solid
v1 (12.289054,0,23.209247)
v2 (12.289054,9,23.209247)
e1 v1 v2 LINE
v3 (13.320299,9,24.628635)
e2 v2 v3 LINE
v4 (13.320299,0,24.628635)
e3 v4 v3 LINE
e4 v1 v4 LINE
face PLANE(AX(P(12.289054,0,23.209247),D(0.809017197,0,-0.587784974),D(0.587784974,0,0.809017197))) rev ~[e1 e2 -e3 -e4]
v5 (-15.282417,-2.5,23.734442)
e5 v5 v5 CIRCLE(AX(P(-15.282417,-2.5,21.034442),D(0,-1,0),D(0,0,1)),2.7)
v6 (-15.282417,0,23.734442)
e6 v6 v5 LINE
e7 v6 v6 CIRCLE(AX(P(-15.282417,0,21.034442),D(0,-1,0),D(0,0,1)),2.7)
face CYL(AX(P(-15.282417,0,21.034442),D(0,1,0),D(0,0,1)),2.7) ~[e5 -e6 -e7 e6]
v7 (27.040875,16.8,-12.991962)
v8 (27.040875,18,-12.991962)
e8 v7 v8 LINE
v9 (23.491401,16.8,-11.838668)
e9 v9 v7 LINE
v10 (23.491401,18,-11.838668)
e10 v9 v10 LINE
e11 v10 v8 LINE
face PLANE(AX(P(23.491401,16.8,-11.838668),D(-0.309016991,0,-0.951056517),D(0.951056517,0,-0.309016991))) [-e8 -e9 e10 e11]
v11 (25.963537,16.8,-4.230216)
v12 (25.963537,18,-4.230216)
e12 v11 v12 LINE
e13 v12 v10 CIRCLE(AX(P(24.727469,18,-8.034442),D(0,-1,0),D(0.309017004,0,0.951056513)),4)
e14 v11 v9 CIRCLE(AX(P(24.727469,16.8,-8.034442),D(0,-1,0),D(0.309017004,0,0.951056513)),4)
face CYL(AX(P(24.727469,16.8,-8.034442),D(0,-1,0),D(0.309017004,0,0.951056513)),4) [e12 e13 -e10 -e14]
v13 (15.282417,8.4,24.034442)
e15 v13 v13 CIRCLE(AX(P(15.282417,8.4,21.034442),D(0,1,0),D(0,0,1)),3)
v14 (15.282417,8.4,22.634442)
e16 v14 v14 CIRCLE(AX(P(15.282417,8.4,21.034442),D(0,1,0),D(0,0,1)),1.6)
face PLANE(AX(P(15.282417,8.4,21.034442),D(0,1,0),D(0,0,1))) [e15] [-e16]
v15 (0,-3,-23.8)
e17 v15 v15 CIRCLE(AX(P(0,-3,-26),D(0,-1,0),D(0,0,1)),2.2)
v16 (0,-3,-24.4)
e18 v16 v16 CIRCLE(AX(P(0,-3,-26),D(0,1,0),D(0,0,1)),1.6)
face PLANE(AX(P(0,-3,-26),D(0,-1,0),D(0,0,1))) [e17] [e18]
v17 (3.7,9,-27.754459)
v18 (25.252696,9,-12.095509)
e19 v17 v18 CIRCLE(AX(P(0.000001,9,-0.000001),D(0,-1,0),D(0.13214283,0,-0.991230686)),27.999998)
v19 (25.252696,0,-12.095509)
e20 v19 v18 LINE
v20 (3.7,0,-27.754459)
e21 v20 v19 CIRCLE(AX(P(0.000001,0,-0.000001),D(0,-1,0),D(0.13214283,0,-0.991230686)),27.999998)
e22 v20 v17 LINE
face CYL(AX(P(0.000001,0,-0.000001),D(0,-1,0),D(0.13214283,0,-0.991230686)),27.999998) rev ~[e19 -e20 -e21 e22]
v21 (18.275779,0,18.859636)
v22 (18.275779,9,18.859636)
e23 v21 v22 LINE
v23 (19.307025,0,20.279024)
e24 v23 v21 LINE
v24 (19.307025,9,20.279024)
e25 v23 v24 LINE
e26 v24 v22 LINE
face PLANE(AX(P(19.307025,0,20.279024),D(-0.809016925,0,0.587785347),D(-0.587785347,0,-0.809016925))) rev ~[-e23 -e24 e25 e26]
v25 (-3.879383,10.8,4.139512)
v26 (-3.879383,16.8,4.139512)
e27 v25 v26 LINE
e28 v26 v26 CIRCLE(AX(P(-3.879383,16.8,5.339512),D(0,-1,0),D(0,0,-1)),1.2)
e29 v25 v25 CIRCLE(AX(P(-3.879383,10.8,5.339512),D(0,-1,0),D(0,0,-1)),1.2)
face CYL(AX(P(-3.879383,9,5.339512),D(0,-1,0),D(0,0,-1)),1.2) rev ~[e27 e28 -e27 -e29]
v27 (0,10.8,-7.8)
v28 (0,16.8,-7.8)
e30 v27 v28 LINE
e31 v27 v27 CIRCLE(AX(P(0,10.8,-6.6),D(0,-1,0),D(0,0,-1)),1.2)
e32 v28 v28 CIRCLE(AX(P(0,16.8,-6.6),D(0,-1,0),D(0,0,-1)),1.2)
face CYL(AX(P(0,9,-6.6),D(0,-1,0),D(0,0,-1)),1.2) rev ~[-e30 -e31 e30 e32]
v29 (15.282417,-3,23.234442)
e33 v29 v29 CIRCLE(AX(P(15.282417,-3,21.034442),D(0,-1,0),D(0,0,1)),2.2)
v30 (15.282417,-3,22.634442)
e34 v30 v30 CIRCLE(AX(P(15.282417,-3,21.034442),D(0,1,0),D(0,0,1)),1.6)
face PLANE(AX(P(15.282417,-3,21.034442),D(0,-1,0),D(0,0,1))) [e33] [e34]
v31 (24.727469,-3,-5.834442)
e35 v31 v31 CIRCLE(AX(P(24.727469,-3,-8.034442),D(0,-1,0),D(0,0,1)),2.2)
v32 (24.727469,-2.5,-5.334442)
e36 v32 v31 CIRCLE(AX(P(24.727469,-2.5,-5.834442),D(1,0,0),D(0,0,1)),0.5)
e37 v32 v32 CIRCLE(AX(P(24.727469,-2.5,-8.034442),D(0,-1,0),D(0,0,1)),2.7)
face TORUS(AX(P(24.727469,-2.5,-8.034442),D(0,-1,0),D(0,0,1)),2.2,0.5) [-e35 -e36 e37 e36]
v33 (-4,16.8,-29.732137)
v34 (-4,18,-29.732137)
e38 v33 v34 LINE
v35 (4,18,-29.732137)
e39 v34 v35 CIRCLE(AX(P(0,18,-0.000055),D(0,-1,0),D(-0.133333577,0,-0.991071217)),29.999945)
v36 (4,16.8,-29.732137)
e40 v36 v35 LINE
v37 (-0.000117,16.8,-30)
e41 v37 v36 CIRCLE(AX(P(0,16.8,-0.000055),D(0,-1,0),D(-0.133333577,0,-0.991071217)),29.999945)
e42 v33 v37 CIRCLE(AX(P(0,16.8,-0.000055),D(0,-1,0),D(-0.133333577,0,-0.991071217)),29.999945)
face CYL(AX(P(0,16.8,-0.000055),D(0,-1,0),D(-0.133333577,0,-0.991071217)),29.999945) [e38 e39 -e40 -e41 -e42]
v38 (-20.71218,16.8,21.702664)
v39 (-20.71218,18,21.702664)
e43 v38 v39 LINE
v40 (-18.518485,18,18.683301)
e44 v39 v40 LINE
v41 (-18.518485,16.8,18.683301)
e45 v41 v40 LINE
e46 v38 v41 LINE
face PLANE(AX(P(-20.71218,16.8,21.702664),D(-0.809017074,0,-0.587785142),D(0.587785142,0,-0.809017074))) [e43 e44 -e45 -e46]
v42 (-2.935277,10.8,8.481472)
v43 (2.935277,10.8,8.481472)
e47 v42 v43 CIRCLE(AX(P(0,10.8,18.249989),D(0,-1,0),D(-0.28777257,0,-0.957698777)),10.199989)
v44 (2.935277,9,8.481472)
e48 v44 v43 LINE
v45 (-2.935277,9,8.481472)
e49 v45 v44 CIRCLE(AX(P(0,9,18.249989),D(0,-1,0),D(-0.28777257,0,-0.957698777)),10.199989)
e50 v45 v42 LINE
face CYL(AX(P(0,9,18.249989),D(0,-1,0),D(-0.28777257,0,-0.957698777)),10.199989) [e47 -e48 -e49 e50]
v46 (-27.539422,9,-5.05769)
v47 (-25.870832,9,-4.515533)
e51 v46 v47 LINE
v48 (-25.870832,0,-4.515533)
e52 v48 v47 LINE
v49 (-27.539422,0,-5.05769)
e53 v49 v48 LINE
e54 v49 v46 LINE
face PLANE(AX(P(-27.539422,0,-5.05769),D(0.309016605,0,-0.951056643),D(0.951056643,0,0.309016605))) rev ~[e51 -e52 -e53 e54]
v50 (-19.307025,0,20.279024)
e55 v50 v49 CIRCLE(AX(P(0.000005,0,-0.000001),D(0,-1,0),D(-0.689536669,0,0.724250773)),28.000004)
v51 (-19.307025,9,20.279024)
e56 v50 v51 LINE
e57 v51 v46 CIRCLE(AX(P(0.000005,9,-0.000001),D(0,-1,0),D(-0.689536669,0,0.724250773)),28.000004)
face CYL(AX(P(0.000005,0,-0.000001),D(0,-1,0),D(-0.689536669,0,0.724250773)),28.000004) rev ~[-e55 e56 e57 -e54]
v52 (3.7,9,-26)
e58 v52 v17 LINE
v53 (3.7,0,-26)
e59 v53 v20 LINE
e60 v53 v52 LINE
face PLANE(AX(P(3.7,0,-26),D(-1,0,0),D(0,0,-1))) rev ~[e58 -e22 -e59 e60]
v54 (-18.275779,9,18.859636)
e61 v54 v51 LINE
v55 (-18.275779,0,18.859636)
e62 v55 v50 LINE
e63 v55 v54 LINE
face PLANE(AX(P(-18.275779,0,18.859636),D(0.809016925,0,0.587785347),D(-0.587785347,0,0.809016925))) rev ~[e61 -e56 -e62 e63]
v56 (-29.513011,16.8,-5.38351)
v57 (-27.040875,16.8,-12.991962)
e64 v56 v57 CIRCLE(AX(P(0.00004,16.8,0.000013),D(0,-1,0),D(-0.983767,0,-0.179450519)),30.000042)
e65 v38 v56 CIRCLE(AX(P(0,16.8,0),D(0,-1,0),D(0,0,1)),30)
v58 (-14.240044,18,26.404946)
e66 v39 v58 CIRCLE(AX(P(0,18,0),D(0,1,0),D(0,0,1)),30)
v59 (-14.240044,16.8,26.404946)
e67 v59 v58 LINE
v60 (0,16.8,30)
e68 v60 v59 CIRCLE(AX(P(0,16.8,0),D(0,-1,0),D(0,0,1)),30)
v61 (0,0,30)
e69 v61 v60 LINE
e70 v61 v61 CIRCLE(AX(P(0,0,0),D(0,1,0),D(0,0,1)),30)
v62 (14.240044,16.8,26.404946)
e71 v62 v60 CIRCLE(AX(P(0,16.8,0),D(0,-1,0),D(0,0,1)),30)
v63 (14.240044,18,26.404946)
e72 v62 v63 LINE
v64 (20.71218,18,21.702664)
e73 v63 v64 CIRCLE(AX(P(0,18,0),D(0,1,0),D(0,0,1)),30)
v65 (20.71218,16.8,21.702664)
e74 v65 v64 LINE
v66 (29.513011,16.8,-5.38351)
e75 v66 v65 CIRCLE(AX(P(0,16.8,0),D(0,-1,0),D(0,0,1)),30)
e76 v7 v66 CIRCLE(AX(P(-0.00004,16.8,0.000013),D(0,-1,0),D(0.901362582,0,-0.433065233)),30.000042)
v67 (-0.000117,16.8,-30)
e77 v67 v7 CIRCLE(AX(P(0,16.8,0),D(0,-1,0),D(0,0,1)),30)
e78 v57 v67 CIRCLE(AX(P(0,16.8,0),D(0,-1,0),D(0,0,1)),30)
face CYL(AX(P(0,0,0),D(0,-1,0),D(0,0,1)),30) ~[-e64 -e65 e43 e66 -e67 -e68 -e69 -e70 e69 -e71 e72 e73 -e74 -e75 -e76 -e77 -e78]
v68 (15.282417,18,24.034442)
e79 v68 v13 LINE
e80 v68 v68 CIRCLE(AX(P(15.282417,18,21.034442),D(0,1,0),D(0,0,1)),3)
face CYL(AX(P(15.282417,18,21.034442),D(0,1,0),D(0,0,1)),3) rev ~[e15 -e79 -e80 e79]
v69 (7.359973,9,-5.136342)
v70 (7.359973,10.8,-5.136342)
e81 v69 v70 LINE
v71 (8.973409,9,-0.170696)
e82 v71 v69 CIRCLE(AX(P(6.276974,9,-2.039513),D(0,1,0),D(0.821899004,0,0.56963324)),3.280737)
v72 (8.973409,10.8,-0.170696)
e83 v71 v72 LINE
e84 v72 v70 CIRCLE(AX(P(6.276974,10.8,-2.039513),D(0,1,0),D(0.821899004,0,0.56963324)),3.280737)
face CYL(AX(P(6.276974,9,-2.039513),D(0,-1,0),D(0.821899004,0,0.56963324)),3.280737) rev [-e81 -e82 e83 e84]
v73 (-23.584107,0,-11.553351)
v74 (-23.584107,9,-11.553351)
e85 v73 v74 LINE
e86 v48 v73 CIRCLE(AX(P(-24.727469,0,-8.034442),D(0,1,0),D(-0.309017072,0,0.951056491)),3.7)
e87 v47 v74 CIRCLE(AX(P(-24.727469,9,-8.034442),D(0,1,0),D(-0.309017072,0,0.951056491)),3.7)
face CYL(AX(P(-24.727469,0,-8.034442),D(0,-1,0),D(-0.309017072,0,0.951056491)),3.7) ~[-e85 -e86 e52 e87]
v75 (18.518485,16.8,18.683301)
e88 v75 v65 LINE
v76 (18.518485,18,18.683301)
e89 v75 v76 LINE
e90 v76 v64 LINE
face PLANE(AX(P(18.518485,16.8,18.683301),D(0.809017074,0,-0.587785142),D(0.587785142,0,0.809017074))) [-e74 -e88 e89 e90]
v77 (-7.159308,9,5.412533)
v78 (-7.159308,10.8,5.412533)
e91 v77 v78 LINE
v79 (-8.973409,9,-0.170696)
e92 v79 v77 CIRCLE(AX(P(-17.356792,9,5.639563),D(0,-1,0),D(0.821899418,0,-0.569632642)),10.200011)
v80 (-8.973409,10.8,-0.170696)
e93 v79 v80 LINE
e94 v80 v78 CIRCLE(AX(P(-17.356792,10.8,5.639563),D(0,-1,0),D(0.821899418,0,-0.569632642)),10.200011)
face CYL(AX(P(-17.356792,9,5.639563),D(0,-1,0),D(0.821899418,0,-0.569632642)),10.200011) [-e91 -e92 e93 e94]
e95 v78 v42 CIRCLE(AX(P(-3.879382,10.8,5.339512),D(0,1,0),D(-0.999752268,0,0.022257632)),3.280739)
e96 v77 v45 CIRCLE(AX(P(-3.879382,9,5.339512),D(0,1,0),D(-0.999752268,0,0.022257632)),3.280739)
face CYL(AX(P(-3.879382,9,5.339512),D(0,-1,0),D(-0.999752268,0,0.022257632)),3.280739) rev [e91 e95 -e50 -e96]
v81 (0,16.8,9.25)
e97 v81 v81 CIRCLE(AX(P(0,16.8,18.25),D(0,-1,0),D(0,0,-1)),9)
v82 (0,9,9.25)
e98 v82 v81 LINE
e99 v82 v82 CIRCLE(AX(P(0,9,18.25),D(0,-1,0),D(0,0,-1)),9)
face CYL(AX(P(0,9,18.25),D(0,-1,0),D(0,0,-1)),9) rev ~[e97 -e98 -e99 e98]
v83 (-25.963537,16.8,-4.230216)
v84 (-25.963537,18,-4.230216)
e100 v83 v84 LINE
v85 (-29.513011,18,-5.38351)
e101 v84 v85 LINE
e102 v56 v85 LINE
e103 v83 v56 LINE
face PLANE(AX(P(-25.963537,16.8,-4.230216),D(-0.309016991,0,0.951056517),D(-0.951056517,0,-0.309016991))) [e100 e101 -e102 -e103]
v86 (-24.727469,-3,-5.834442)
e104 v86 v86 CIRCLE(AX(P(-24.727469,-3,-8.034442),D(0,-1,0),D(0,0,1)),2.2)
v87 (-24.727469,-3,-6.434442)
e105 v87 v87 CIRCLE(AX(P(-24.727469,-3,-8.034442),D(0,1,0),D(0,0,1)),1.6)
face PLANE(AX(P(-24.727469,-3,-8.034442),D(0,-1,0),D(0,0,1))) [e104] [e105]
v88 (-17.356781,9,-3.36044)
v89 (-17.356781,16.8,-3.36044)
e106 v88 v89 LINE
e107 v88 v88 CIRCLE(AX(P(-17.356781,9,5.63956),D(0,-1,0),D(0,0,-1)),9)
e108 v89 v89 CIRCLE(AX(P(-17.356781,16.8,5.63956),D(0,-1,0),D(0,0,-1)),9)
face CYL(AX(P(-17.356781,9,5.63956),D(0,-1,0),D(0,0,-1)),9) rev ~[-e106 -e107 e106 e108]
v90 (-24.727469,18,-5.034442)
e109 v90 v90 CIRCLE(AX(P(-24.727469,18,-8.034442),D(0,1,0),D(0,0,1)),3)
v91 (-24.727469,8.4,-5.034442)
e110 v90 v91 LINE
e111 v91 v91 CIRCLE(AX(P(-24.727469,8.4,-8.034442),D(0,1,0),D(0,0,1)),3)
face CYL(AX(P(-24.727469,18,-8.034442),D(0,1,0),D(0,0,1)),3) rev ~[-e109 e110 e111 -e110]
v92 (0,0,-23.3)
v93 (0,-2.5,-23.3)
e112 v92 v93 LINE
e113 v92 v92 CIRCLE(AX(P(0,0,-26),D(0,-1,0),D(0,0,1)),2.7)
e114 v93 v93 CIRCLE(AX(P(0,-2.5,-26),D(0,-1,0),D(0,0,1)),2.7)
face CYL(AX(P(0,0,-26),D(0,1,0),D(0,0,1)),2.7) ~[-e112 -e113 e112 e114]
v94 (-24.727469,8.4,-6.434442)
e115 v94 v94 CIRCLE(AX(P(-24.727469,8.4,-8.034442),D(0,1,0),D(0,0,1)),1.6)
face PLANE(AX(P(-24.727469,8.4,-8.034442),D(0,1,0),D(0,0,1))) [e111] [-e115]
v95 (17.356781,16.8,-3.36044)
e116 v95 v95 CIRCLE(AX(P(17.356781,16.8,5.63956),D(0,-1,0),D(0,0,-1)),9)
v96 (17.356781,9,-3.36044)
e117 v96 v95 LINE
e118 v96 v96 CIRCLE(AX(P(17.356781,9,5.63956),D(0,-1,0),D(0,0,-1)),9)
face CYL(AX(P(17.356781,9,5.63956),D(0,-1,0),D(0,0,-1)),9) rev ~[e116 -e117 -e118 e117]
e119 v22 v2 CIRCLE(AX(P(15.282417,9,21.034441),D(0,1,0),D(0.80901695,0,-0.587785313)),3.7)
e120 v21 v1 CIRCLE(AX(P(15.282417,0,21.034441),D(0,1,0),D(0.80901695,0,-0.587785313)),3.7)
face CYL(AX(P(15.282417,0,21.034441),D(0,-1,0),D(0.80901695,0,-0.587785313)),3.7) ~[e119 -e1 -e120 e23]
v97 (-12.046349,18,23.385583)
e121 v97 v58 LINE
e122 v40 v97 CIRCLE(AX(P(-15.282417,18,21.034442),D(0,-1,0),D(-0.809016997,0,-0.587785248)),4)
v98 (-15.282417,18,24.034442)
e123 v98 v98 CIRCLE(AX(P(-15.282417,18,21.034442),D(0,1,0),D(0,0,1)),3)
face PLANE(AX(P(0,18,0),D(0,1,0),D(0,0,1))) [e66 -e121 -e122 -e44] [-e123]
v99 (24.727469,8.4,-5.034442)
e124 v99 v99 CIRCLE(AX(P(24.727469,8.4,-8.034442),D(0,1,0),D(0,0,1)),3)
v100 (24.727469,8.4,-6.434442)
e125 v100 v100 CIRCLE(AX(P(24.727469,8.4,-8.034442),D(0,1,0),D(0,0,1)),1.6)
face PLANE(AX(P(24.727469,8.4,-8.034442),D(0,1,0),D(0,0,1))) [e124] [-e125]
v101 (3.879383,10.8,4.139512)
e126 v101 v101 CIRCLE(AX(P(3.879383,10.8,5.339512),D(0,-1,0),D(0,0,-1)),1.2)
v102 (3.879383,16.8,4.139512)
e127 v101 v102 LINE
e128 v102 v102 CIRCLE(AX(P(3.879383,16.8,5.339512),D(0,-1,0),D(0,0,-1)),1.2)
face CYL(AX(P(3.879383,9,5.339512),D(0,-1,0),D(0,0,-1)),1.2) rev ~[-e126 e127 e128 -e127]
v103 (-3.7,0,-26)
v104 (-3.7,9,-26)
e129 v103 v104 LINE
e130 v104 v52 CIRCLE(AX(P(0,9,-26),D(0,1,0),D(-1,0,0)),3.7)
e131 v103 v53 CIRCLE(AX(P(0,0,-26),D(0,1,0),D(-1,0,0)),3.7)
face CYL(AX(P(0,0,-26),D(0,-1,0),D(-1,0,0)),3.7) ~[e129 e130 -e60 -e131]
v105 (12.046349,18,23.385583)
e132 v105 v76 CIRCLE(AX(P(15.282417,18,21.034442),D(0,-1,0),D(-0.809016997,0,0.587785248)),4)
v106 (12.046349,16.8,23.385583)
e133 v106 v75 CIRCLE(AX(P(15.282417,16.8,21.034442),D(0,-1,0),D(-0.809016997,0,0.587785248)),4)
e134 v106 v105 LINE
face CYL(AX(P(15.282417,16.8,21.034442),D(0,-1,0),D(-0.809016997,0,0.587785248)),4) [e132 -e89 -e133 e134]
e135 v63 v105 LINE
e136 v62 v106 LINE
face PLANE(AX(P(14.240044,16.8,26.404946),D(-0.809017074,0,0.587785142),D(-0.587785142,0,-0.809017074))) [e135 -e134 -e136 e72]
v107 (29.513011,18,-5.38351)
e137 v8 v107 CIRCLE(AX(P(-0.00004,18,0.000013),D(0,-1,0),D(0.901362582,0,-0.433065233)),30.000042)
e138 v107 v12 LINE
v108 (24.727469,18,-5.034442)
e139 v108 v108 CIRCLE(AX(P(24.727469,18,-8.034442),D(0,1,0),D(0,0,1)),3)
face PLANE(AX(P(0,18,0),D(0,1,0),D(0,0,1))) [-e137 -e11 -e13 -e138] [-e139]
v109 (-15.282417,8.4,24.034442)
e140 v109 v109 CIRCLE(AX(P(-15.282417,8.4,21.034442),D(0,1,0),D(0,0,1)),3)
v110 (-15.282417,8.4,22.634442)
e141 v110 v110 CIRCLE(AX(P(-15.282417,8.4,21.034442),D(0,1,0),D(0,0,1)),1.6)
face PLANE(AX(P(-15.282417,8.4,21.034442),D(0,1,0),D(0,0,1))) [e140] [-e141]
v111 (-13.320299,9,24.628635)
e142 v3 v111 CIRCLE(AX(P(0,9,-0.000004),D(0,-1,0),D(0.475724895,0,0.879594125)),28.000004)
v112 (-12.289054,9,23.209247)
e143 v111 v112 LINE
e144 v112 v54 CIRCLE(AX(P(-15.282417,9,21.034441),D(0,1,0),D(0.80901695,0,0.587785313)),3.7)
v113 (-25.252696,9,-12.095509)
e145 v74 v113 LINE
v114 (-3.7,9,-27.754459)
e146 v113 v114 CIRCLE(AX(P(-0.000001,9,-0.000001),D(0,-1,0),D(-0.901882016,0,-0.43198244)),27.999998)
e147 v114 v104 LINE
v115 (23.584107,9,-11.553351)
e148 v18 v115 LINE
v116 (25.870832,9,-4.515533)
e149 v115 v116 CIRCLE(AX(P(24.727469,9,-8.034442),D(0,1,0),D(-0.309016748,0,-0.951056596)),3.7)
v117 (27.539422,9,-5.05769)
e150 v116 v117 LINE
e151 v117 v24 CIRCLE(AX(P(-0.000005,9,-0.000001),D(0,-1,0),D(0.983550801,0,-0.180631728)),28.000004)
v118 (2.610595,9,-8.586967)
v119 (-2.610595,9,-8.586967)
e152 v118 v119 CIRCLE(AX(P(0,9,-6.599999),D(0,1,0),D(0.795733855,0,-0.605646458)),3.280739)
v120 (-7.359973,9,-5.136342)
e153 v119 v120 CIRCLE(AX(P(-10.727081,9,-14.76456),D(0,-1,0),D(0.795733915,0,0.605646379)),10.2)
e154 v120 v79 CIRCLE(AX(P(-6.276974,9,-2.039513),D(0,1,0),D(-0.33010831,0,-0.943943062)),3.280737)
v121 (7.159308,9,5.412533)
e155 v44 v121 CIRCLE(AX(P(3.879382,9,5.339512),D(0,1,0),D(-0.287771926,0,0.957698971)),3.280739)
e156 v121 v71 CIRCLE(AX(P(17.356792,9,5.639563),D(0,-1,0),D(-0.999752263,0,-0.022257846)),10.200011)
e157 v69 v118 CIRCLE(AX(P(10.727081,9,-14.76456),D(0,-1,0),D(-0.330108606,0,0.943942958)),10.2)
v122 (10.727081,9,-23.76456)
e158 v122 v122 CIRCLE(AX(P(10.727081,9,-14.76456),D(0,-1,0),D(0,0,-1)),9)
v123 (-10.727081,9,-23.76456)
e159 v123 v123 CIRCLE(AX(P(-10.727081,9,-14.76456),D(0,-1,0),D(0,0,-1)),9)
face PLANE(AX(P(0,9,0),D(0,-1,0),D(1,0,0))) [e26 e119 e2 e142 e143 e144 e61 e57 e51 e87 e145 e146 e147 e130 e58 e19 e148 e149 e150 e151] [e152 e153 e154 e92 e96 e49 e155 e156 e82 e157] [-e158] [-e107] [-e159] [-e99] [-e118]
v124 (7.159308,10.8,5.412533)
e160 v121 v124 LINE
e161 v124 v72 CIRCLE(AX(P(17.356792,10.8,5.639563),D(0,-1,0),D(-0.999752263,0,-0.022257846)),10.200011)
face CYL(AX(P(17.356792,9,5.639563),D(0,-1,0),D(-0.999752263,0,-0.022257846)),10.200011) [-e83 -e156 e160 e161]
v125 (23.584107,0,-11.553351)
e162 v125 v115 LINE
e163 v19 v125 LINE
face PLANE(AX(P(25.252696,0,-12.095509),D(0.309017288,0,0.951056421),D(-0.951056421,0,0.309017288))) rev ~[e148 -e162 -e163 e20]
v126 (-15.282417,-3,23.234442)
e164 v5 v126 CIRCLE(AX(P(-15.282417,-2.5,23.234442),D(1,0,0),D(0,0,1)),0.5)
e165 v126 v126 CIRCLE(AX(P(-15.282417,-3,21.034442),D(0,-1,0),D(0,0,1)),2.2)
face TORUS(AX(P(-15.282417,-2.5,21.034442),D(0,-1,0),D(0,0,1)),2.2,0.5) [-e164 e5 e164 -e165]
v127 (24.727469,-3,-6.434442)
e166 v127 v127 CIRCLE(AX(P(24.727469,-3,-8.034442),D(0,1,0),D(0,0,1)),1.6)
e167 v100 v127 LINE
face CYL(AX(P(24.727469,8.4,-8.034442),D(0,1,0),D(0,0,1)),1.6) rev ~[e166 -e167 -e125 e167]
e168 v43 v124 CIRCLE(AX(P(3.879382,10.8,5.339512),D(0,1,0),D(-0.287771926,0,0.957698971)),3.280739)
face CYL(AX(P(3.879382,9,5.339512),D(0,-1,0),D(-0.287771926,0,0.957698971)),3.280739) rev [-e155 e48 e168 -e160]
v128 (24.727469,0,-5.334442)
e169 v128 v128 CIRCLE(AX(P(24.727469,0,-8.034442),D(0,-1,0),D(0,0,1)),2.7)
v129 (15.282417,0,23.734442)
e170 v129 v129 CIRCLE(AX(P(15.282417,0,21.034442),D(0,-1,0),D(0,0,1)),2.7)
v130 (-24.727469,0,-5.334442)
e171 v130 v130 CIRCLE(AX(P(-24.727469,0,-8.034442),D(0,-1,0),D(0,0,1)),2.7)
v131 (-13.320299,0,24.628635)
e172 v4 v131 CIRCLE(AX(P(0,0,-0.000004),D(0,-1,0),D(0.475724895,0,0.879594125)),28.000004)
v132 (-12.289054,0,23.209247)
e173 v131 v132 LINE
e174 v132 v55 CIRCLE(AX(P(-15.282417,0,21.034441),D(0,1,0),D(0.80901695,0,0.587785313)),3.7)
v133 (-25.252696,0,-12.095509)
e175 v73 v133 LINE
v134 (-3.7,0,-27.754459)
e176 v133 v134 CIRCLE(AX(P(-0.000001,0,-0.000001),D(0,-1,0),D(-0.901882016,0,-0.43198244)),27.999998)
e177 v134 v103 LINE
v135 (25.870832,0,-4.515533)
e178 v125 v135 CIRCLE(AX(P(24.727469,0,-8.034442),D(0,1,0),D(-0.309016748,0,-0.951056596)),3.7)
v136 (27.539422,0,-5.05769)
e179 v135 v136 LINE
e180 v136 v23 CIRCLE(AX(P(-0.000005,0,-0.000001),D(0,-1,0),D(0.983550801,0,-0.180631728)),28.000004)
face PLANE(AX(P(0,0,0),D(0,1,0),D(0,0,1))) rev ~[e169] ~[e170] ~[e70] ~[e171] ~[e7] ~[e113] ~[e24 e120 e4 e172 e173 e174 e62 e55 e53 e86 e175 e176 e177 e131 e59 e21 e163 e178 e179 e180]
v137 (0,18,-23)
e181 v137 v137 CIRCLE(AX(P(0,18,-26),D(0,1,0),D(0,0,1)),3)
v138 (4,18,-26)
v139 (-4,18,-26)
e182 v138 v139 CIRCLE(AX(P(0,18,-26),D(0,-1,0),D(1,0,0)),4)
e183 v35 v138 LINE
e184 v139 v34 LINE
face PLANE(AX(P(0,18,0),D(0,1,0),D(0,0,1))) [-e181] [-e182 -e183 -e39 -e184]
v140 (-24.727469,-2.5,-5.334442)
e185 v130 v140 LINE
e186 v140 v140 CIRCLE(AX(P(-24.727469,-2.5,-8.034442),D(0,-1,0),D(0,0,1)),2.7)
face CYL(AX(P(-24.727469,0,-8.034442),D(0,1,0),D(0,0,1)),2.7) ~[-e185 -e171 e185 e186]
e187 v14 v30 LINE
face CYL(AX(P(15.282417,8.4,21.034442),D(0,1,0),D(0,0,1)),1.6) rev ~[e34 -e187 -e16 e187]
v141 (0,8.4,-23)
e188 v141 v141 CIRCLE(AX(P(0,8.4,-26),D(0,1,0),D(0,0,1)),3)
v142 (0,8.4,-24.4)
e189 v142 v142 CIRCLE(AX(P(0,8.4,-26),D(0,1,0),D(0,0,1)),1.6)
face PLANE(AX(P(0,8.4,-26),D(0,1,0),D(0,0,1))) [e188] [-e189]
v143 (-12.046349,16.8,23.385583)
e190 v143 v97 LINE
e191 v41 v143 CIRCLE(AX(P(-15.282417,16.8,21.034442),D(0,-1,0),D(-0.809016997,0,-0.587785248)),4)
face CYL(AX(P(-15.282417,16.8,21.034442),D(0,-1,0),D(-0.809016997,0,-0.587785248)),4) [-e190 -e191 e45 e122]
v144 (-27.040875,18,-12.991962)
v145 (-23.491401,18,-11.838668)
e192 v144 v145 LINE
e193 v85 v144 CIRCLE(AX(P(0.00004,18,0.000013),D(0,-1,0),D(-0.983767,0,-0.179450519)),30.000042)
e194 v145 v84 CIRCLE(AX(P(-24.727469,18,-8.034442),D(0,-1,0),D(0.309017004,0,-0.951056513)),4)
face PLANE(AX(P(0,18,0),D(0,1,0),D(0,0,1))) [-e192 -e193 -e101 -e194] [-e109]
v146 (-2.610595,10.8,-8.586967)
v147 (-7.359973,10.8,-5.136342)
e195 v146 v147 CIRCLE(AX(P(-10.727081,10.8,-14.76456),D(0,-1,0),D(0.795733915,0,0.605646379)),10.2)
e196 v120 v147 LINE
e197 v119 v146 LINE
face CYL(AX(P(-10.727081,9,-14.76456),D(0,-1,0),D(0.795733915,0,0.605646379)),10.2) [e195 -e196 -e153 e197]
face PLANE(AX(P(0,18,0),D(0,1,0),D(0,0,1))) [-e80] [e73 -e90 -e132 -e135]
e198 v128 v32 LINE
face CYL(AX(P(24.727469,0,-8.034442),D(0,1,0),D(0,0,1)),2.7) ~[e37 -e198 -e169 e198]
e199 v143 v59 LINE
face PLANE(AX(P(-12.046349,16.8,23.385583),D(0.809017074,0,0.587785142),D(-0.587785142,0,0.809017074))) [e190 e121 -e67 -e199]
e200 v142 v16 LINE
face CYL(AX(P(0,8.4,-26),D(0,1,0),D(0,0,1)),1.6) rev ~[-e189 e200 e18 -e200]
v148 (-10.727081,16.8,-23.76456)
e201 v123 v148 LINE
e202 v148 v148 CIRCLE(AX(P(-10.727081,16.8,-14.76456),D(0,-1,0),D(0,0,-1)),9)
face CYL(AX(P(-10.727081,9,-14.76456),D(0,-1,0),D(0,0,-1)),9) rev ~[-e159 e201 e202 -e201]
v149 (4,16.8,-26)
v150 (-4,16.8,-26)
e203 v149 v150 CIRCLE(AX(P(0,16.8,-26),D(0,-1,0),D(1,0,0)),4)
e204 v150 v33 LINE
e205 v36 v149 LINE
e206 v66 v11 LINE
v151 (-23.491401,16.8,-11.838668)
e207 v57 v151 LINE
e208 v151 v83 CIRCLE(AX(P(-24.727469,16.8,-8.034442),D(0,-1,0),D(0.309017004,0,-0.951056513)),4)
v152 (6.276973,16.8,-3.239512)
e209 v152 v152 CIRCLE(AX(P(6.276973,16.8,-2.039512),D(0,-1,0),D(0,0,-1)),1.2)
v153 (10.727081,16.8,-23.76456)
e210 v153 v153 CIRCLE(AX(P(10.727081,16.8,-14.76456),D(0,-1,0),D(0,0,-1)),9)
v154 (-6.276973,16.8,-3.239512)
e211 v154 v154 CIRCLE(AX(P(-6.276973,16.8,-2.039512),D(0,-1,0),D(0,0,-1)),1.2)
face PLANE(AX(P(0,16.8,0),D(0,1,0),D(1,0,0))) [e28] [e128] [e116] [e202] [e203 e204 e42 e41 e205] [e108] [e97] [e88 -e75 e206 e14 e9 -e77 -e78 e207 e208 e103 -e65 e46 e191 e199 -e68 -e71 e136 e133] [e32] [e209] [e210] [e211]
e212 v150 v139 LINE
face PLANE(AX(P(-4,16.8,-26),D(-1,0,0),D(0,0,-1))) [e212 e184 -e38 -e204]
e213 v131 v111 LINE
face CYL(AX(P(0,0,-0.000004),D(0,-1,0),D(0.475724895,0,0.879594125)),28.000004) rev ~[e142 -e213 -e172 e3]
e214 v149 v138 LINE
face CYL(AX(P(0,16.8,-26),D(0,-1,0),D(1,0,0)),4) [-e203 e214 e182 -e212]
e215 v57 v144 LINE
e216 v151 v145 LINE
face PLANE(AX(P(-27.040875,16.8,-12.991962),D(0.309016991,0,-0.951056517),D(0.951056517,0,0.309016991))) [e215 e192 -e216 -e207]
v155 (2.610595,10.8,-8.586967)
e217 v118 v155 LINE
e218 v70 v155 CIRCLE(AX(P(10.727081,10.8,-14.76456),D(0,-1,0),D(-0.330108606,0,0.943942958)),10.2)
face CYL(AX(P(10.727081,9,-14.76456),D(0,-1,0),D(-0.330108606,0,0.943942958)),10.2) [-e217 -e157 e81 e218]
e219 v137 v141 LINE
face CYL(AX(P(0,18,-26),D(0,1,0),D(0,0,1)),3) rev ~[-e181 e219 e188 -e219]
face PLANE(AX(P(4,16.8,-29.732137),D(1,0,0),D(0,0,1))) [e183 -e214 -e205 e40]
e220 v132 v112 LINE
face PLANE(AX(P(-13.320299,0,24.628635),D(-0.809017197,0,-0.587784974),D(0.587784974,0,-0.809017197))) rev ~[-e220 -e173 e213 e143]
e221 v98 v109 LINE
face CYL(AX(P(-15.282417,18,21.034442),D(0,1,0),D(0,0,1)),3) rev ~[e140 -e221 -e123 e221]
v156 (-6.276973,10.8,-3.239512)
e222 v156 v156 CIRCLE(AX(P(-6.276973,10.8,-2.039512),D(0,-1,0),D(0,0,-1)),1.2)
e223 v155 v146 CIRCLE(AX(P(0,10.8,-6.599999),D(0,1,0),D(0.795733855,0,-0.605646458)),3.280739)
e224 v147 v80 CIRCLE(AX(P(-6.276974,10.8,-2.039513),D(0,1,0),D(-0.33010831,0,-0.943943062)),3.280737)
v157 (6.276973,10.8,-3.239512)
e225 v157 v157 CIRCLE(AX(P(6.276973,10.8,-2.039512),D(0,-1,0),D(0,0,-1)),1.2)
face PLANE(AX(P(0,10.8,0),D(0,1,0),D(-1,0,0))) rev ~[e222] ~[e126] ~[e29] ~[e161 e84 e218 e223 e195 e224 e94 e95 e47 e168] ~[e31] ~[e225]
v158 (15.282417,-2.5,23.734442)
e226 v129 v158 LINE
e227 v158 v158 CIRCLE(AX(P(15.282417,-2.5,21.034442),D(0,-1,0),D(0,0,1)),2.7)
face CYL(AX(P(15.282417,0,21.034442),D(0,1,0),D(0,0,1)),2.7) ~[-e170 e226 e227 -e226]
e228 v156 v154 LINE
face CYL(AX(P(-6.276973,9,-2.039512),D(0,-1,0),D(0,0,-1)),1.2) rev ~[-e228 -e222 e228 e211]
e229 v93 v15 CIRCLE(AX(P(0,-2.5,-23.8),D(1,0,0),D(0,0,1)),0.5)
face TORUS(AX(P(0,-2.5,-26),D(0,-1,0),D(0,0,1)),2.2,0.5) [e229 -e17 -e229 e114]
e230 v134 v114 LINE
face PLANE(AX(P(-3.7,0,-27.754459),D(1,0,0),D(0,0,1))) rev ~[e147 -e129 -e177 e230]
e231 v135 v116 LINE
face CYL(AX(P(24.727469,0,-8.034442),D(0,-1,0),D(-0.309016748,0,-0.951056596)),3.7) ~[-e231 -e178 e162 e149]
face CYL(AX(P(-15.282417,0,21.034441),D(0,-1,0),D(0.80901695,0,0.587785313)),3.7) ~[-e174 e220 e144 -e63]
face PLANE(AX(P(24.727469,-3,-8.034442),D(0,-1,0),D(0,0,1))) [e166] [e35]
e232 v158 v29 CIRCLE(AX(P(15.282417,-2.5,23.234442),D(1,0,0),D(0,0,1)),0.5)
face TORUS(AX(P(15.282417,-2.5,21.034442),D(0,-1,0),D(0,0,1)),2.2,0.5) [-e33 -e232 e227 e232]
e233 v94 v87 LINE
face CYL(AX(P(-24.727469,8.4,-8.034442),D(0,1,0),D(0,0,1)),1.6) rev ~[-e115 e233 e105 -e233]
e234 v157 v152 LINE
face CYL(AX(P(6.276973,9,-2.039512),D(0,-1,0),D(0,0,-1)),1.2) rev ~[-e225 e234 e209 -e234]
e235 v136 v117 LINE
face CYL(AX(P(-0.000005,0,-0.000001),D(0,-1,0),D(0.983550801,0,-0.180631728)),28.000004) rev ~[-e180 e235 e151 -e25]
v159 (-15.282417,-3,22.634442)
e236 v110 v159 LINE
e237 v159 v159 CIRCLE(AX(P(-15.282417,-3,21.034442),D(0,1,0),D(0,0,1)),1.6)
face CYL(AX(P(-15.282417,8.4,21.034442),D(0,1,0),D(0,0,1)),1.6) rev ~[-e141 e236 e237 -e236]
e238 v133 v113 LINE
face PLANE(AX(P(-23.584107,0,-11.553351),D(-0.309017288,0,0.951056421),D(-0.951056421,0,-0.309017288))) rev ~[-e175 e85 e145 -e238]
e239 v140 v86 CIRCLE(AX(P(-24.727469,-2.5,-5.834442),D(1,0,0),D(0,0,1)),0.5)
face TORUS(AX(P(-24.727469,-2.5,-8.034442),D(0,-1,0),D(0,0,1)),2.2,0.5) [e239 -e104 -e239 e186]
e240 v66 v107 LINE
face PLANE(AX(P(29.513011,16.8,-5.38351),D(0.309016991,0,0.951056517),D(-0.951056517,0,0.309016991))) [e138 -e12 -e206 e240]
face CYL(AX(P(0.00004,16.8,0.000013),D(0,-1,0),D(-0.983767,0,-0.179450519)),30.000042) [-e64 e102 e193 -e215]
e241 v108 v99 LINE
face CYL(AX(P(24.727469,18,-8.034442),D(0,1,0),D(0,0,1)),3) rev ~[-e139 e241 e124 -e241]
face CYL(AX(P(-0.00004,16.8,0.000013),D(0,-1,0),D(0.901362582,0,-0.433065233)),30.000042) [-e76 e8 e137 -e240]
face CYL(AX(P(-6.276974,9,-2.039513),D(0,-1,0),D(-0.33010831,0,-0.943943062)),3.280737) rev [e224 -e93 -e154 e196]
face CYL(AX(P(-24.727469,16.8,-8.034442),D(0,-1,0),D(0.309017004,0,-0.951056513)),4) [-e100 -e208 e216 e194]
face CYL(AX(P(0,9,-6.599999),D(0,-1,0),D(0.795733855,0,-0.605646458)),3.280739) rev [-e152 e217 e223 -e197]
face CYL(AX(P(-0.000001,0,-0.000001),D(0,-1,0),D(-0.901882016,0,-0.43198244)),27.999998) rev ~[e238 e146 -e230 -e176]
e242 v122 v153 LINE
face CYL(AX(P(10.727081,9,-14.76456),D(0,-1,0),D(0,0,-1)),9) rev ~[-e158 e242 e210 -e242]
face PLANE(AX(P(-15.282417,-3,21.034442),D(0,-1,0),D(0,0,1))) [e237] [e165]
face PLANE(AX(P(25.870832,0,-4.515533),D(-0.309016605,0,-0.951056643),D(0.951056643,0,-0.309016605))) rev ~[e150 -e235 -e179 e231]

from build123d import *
from build123d.topology import SkipClean

# Parameters (mm, degrees)
SKETCH1_R           = 30
BOSS_EXTRUDE1_DEPTH = 18
CUT_EXTRUDE1_START  = -1.2
SKETCH2_R           = 37.782598
CUT_EXTRUDE1_DEPTH  = 1.2
SKETCH3_R           = 3
CUT_EXTRUDE2_DEPTH  = 9.6
CUT_EXTRUDE4_DEPTH  = 9
SKETCH6_R           = 9
SKETCH6_R_2         = 1.2
CUT_EXTRUDE5_DEPTH  = 44.370497
SKETCH7_R           = 1.2
CUT_EXTRUDE6_DEPTH  = 1.8
SKETCH8_R           = 2.7
BOSS_EXTRUDE2_DEPTH = 3
SKETCH4_R           = 1.6
CUT_EXTRUDE7_DEPTH  = 44.93131
FILLET1_R           = 0.5


with BuildPart() as part:
    # Sketch1 → Boss-Extrude1 (new body)
    with BuildSketch(Plane(origin=(0, 0, 0), x_dir=(1, 0, 0), z_dir=(0, 1, 0))):
        with Locations(Location((0, 0, 0), (0, 0, 270))):
            Circle(SKETCH1_R)
    extrude(amount=BOSS_EXTRUDE1_DEPTH)

    # Sketch2 → Cut-Extrude1 (cut)
    with SkipClean():  # the faces are left unmerged after this step: merging them gives an invalid solid
        with BuildSketch(Plane(origin=(0, 18, 0), x_dir=(1, 0, 0), z_dir=(0, 1, 0)).offset(CUT_EXTRUDE1_START)):
            Circle(SKETCH2_R)
            with BuildLine():
                Line((-4, 26), (-4, 29.732137))
                ThreePointArc((-4, 29.732137), (0, 30), (4, 29.732137))
                Line((4, 29.732137), (4, 26))
                ThreePointArc((4, 26), (0, 22), (-4, 26))
            make_face(mode=Mode.SUBTRACT)
            with BuildLine():
                Line((23.491401, 11.838668), (27.040875, 12.991962))
                ThreePointArc((27.040875, 12.991962), (28.531695, 9.27051), (29.513011, 5.38351))
                Line((29.513011, 5.38351), (25.963537, 4.230216))
                ThreePointArc((25.963537, 4.230216), (20.923243, 6.798374), (23.491401, 11.838668))
            make_face(mode=Mode.SUBTRACT)
            with BuildLine():
                Line((18.518485, -18.683301), (20.71218, -21.702664))
                ThreePointArc((20.71218, -21.702664), (17.633558, -24.27051), (14.240044, -26.404946))
                Line((14.240044, -26.404946), (12.046349, -23.385583))
                ThreePointArc((12.046349, -23.385583), (12.931276, -17.798374), (18.518485, -18.683301))
            make_face(mode=Mode.SUBTRACT)
            with BuildLine():
                Line((-12.046349, -23.385583), (-14.240044, -26.404946))
                ThreePointArc((-14.240044, -26.404946), (-17.633558, -24.27051), (-20.71218, -21.702664))
                Line((-20.71218, -21.702664), (-18.518485, -18.683301))
                ThreePointArc((-18.518485, -18.683301), (-12.931276, -17.798374), (-12.046349, -23.385583))
            make_face(mode=Mode.SUBTRACT)
            with BuildLine():
                Line((-25.963537, 4.230216), (-29.513011, 5.38351))
                ThreePointArc((-29.513011, 5.38351), (-28.531695, 9.27051), (-27.040875, 12.991962))
                Line((-27.040875, 12.991962), (-23.491401, 11.838668))
                ThreePointArc((-23.491401, 11.838668), (-20.923243, 6.798374), (-25.963537, 4.230216))
            make_face(mode=Mode.SUBTRACT)
        extrude(amount=CUT_EXTRUDE1_DEPTH, mode=Mode.SUBTRACT)

    # Sketch3 → Cut-Extrude2 (cut)
    with SkipClean():  # the faces are left unmerged after this step: merging them gives an invalid solid
        with BuildSketch(Plane(origin=(0, 18, 0), x_dir=(1, 0, 0), z_dir=(0, 1, 0))):
            with Locations(Location((0, 26, 0), (0, 0, 270))):
                Circle(SKETCH3_R)
            with Locations(Location((24.727469, 8.034442, 0), (0, 0, 270))):
                Circle(SKETCH3_R)
            with Locations(Location((15.282417, -21.034442, 0), (0, 0, 270))):
                Circle(SKETCH3_R)
            with Locations(Location((-15.282417, -21.034442, 0), (0, 0, 270))):
                Circle(SKETCH3_R)
            with Locations(Location((-24.727469, 8.034442, 0), (0, 0, 270))):
                Circle(SKETCH3_R)
        extrude(amount=-CUT_EXTRUDE2_DEPTH, mode=Mode.SUBTRACT)

    # Sketch5 → Cut-Extrude4 (cut)
    with SkipClean():  # the faces are left unmerged after this step: merging them gives an invalid solid
        with BuildSketch(Plane.XZ):
            with BuildLine():
                Line((3.7, -26), (3.7, -27.754459))
                ThreePointArc((3.7, -27.754459), (16.457987, -22.652476), (25.252696, -12.095509))
                Line((25.252696, -12.095509), (23.584107, -11.553351))
                ThreePointArc((23.584107, -11.553351), (21.20856, -6.891079), (25.870832, -4.515533))
                Line((25.870832, -4.515533), (27.539422, -5.05769))
                ThreePointArc((27.539422, -5.05769), (26.629582, 8.652476), (19.307025, 20.279024))
                Line((19.307025, 20.279024), (18.275779, 18.859636))
                ThreePointArc((18.275779, 18.859636), (13.107611, 18.041079), (12.289054, 23.209247))
                Line((12.289054, 23.209247), (13.320299, 24.628635))
                ThreePointArc((13.320299, 24.628635), (0, 28), (-13.320299, 24.628635))
                Line((-13.320299, 24.628635), (-12.289054, 23.209247))
                ThreePointArc((-12.289054, 23.209247), (-13.107611, 18.041079), (-18.275779, 18.859636))
                Line((-18.275779, 18.859636), (-19.307025, 20.279024))
                ThreePointArc((-19.307025, 20.279024), (-26.629582, 8.652476), (-27.539422, -5.05769))
                Line((-27.539422, -5.05769), (-25.870832, -4.515533))
                ThreePointArc((-25.870832, -4.515533), (-21.20856, -6.891079), (-23.584107, -11.553351))
                Line((-23.584107, -11.553351), (-25.252696, -12.095509))
                ThreePointArc((-25.252696, -12.095509), (-16.457987, -22.652476), (-3.7, -27.754459))
                Line((-3.7, -27.754459), (-3.7, -26))
                ThreePointArc((-3.7, -26), (0, -22.3), (3.7, -26))
            make_face()
        extrude(amount=-CUT_EXTRUDE4_DEPTH, mode=Mode.SUBTRACT)

    # Sketch6 → Cut-Extrude5 (cut, through all)
    with SkipClean():  # the faces are left unmerged after this step: merging them gives an invalid solid
        with BuildSketch(Plane.XZ.offset(-9)):
            with Locations(Location((0, 18.25, 0), (0, 0, 270))):
                Circle(SKETCH6_R)
            with Locations(Location((17.356781, 5.63956, 0), (0, 0, 270))):
                Circle(SKETCH6_R)
            with Locations(Location((10.727081, -14.76456, 0), (0, 0, 270))):
                Circle(SKETCH6_R)
            with Locations(Location((-10.727081, -14.76456, 0), (0, 0, 270))):
                Circle(SKETCH6_R)
            with Locations(Location((-17.356781, 5.63956, 0), (0, 0, 270))):
                Circle(SKETCH6_R)
            with Locations(Location((3.879383, 5.339512, 0), (0, 0, 270))):
                Circle(SKETCH6_R_2)
            with Locations(Location((6.276973, -2.039512, 0), (0, 0, 270))):
                Circle(SKETCH6_R_2)
            with Locations(Location((0, -6.6, 0), (0, 0, 270))):
                Circle(SKETCH6_R_2)
            with Locations(Location((-6.276973, -2.039512, 0), (0, 0, 270))):
                Circle(SKETCH6_R_2)
            with Locations(Location((-3.879383, 5.339512, 0), (0, 0, 270))):
                Circle(SKETCH6_R_2)
        extrude(amount=-CUT_EXTRUDE5_DEPTH, mode=Mode.SUBTRACT)

    # Sketch7 → Cut-Extrude6 (cut)
    with SkipClean():  # the faces are left unmerged after this step: merging them gives an invalid solid
        with BuildSketch(Plane.XZ.offset(-9)):
            with BuildLine():
                ThreePointArc((-2.935277, 8.481472), (0, 8.05), (2.935277, 8.481472))
                ThreePointArc((2.935277, 8.481472), (5.807752, 7.993685), (7.159308, 5.412533))
                ThreePointArc((7.159308, 5.412533), (7.656005, 2.487587), (8.973409, -0.170696))
                ThreePointArc((8.973409, -0.170696), (9.397141, -3.053316), (7.359973, -5.136342))
                ThreePointArc((7.359973, -5.136342), (4.731671, -6.512587), (2.610595, -8.586967))
                ThreePointArc((2.610595, -8.586967), (0, -9.880738), (-2.610595, -8.586967))
                ThreePointArc((-2.610595, -8.586967), (-4.731671, -6.512587), (-7.359973, -5.136342))
                ThreePointArc((-7.359973, -5.136342), (-9.397141, -3.053316), (-8.973409, -0.170696))
                ThreePointArc((-8.973409, -0.170696), (-7.656005, 2.487587), (-7.159308, 5.412533))
                ThreePointArc((-7.159308, 5.412533), (-5.807752, 7.993685), (-2.935277, 8.481472))
            make_face()
            with Locations(Location((-3.879383, 5.339512, 0), (0, 0, 270))):
                Circle(SKETCH7_R, mode=Mode.SUBTRACT)
            with Locations(Location((3.879383, 5.339512, 0), (0, 0, 270))):
                Circle(SKETCH7_R, mode=Mode.SUBTRACT)
            with Locations(Location((6.276973, -2.039512, 0), (0, 0, 270))):
                Circle(SKETCH7_R, mode=Mode.SUBTRACT)
            with Locations(Location((0, -6.6, 0), (0, 0, 270))):
                Circle(SKETCH7_R, mode=Mode.SUBTRACT)
            with Locations(Location((-6.276973, -2.039512, 0), (0, 0, 270))):
                Circle(SKETCH7_R, mode=Mode.SUBTRACT)
        extrude(amount=-CUT_EXTRUDE6_DEPTH, mode=Mode.SUBTRACT)

    # Sketch8 → Boss-Extrude2 (add)
    with SkipClean():  # the faces are left unmerged after this step: merging them gives an invalid solid
        with BuildSketch(Plane.XZ):
            with Locations(Location((0, -26, 0), (0, 0, 90))):
                Circle(SKETCH8_R)
            with Locations(Location((-24.727469, -8.034442, 0), (0, 0, 90))):
                Circle(SKETCH8_R)
            with Locations(Location((-15.282417, 21.034442, 0), (0, 0, 90))):
                Circle(SKETCH8_R)
            with Locations(Location((15.282417, 21.034442, 0), (0, 0, 90))):
                Circle(SKETCH8_R)
            with Locations(Location((24.727469, -8.034442, 0), (0, 0, 90))):
                Circle(SKETCH8_R)
        extrude(amount=BOSS_EXTRUDE2_DEPTH)

    # Sketch4 → Cut-Extrude7 (cut, through all)
    with SkipClean():  # the faces are left unmerged after this step: merging them gives an invalid solid
        with BuildSketch(Plane(origin=(0, 8.4, 0), x_dir=(1, 0, 0), z_dir=(0, 1, 0))):
            with Locations(Location((0, 26, 0), (0, 0, 270))):
                Circle(SKETCH4_R)
            with Locations(Location((24.727469, 8.034442, 0), (0, 0, 270))):
                Circle(SKETCH4_R)
            with Locations(Location((15.282417, -21.034442, 0), (0, 0, 270))):
                Circle(SKETCH4_R)
            with Locations(Location((-15.282417, -21.034442, 0), (0, 0, 270))):
                Circle(SKETCH4_R)
            with Locations(Location((-24.727469, 8.034442, 0), (0, 0, 270))):
                Circle(SKETCH4_R)
        extrude(amount=-CUT_EXTRUDE7_DEPTH, mode=Mode.SUBTRACT)

    # Fillet1
    fillet1_edges = [part.edges().sort_by_distance(p)[0] for p in [
        (0, -3, -28.7),
        (-24.727469, -3, -10.734442),
        (-15.282417, -3, 18.334442),
        (15.282417, -3, 18.334442),
        (24.727469, -3, -10.734442),
    ]]
    fillet(fillet1_edges, radius=FILLET1_R)


solid = part.part
